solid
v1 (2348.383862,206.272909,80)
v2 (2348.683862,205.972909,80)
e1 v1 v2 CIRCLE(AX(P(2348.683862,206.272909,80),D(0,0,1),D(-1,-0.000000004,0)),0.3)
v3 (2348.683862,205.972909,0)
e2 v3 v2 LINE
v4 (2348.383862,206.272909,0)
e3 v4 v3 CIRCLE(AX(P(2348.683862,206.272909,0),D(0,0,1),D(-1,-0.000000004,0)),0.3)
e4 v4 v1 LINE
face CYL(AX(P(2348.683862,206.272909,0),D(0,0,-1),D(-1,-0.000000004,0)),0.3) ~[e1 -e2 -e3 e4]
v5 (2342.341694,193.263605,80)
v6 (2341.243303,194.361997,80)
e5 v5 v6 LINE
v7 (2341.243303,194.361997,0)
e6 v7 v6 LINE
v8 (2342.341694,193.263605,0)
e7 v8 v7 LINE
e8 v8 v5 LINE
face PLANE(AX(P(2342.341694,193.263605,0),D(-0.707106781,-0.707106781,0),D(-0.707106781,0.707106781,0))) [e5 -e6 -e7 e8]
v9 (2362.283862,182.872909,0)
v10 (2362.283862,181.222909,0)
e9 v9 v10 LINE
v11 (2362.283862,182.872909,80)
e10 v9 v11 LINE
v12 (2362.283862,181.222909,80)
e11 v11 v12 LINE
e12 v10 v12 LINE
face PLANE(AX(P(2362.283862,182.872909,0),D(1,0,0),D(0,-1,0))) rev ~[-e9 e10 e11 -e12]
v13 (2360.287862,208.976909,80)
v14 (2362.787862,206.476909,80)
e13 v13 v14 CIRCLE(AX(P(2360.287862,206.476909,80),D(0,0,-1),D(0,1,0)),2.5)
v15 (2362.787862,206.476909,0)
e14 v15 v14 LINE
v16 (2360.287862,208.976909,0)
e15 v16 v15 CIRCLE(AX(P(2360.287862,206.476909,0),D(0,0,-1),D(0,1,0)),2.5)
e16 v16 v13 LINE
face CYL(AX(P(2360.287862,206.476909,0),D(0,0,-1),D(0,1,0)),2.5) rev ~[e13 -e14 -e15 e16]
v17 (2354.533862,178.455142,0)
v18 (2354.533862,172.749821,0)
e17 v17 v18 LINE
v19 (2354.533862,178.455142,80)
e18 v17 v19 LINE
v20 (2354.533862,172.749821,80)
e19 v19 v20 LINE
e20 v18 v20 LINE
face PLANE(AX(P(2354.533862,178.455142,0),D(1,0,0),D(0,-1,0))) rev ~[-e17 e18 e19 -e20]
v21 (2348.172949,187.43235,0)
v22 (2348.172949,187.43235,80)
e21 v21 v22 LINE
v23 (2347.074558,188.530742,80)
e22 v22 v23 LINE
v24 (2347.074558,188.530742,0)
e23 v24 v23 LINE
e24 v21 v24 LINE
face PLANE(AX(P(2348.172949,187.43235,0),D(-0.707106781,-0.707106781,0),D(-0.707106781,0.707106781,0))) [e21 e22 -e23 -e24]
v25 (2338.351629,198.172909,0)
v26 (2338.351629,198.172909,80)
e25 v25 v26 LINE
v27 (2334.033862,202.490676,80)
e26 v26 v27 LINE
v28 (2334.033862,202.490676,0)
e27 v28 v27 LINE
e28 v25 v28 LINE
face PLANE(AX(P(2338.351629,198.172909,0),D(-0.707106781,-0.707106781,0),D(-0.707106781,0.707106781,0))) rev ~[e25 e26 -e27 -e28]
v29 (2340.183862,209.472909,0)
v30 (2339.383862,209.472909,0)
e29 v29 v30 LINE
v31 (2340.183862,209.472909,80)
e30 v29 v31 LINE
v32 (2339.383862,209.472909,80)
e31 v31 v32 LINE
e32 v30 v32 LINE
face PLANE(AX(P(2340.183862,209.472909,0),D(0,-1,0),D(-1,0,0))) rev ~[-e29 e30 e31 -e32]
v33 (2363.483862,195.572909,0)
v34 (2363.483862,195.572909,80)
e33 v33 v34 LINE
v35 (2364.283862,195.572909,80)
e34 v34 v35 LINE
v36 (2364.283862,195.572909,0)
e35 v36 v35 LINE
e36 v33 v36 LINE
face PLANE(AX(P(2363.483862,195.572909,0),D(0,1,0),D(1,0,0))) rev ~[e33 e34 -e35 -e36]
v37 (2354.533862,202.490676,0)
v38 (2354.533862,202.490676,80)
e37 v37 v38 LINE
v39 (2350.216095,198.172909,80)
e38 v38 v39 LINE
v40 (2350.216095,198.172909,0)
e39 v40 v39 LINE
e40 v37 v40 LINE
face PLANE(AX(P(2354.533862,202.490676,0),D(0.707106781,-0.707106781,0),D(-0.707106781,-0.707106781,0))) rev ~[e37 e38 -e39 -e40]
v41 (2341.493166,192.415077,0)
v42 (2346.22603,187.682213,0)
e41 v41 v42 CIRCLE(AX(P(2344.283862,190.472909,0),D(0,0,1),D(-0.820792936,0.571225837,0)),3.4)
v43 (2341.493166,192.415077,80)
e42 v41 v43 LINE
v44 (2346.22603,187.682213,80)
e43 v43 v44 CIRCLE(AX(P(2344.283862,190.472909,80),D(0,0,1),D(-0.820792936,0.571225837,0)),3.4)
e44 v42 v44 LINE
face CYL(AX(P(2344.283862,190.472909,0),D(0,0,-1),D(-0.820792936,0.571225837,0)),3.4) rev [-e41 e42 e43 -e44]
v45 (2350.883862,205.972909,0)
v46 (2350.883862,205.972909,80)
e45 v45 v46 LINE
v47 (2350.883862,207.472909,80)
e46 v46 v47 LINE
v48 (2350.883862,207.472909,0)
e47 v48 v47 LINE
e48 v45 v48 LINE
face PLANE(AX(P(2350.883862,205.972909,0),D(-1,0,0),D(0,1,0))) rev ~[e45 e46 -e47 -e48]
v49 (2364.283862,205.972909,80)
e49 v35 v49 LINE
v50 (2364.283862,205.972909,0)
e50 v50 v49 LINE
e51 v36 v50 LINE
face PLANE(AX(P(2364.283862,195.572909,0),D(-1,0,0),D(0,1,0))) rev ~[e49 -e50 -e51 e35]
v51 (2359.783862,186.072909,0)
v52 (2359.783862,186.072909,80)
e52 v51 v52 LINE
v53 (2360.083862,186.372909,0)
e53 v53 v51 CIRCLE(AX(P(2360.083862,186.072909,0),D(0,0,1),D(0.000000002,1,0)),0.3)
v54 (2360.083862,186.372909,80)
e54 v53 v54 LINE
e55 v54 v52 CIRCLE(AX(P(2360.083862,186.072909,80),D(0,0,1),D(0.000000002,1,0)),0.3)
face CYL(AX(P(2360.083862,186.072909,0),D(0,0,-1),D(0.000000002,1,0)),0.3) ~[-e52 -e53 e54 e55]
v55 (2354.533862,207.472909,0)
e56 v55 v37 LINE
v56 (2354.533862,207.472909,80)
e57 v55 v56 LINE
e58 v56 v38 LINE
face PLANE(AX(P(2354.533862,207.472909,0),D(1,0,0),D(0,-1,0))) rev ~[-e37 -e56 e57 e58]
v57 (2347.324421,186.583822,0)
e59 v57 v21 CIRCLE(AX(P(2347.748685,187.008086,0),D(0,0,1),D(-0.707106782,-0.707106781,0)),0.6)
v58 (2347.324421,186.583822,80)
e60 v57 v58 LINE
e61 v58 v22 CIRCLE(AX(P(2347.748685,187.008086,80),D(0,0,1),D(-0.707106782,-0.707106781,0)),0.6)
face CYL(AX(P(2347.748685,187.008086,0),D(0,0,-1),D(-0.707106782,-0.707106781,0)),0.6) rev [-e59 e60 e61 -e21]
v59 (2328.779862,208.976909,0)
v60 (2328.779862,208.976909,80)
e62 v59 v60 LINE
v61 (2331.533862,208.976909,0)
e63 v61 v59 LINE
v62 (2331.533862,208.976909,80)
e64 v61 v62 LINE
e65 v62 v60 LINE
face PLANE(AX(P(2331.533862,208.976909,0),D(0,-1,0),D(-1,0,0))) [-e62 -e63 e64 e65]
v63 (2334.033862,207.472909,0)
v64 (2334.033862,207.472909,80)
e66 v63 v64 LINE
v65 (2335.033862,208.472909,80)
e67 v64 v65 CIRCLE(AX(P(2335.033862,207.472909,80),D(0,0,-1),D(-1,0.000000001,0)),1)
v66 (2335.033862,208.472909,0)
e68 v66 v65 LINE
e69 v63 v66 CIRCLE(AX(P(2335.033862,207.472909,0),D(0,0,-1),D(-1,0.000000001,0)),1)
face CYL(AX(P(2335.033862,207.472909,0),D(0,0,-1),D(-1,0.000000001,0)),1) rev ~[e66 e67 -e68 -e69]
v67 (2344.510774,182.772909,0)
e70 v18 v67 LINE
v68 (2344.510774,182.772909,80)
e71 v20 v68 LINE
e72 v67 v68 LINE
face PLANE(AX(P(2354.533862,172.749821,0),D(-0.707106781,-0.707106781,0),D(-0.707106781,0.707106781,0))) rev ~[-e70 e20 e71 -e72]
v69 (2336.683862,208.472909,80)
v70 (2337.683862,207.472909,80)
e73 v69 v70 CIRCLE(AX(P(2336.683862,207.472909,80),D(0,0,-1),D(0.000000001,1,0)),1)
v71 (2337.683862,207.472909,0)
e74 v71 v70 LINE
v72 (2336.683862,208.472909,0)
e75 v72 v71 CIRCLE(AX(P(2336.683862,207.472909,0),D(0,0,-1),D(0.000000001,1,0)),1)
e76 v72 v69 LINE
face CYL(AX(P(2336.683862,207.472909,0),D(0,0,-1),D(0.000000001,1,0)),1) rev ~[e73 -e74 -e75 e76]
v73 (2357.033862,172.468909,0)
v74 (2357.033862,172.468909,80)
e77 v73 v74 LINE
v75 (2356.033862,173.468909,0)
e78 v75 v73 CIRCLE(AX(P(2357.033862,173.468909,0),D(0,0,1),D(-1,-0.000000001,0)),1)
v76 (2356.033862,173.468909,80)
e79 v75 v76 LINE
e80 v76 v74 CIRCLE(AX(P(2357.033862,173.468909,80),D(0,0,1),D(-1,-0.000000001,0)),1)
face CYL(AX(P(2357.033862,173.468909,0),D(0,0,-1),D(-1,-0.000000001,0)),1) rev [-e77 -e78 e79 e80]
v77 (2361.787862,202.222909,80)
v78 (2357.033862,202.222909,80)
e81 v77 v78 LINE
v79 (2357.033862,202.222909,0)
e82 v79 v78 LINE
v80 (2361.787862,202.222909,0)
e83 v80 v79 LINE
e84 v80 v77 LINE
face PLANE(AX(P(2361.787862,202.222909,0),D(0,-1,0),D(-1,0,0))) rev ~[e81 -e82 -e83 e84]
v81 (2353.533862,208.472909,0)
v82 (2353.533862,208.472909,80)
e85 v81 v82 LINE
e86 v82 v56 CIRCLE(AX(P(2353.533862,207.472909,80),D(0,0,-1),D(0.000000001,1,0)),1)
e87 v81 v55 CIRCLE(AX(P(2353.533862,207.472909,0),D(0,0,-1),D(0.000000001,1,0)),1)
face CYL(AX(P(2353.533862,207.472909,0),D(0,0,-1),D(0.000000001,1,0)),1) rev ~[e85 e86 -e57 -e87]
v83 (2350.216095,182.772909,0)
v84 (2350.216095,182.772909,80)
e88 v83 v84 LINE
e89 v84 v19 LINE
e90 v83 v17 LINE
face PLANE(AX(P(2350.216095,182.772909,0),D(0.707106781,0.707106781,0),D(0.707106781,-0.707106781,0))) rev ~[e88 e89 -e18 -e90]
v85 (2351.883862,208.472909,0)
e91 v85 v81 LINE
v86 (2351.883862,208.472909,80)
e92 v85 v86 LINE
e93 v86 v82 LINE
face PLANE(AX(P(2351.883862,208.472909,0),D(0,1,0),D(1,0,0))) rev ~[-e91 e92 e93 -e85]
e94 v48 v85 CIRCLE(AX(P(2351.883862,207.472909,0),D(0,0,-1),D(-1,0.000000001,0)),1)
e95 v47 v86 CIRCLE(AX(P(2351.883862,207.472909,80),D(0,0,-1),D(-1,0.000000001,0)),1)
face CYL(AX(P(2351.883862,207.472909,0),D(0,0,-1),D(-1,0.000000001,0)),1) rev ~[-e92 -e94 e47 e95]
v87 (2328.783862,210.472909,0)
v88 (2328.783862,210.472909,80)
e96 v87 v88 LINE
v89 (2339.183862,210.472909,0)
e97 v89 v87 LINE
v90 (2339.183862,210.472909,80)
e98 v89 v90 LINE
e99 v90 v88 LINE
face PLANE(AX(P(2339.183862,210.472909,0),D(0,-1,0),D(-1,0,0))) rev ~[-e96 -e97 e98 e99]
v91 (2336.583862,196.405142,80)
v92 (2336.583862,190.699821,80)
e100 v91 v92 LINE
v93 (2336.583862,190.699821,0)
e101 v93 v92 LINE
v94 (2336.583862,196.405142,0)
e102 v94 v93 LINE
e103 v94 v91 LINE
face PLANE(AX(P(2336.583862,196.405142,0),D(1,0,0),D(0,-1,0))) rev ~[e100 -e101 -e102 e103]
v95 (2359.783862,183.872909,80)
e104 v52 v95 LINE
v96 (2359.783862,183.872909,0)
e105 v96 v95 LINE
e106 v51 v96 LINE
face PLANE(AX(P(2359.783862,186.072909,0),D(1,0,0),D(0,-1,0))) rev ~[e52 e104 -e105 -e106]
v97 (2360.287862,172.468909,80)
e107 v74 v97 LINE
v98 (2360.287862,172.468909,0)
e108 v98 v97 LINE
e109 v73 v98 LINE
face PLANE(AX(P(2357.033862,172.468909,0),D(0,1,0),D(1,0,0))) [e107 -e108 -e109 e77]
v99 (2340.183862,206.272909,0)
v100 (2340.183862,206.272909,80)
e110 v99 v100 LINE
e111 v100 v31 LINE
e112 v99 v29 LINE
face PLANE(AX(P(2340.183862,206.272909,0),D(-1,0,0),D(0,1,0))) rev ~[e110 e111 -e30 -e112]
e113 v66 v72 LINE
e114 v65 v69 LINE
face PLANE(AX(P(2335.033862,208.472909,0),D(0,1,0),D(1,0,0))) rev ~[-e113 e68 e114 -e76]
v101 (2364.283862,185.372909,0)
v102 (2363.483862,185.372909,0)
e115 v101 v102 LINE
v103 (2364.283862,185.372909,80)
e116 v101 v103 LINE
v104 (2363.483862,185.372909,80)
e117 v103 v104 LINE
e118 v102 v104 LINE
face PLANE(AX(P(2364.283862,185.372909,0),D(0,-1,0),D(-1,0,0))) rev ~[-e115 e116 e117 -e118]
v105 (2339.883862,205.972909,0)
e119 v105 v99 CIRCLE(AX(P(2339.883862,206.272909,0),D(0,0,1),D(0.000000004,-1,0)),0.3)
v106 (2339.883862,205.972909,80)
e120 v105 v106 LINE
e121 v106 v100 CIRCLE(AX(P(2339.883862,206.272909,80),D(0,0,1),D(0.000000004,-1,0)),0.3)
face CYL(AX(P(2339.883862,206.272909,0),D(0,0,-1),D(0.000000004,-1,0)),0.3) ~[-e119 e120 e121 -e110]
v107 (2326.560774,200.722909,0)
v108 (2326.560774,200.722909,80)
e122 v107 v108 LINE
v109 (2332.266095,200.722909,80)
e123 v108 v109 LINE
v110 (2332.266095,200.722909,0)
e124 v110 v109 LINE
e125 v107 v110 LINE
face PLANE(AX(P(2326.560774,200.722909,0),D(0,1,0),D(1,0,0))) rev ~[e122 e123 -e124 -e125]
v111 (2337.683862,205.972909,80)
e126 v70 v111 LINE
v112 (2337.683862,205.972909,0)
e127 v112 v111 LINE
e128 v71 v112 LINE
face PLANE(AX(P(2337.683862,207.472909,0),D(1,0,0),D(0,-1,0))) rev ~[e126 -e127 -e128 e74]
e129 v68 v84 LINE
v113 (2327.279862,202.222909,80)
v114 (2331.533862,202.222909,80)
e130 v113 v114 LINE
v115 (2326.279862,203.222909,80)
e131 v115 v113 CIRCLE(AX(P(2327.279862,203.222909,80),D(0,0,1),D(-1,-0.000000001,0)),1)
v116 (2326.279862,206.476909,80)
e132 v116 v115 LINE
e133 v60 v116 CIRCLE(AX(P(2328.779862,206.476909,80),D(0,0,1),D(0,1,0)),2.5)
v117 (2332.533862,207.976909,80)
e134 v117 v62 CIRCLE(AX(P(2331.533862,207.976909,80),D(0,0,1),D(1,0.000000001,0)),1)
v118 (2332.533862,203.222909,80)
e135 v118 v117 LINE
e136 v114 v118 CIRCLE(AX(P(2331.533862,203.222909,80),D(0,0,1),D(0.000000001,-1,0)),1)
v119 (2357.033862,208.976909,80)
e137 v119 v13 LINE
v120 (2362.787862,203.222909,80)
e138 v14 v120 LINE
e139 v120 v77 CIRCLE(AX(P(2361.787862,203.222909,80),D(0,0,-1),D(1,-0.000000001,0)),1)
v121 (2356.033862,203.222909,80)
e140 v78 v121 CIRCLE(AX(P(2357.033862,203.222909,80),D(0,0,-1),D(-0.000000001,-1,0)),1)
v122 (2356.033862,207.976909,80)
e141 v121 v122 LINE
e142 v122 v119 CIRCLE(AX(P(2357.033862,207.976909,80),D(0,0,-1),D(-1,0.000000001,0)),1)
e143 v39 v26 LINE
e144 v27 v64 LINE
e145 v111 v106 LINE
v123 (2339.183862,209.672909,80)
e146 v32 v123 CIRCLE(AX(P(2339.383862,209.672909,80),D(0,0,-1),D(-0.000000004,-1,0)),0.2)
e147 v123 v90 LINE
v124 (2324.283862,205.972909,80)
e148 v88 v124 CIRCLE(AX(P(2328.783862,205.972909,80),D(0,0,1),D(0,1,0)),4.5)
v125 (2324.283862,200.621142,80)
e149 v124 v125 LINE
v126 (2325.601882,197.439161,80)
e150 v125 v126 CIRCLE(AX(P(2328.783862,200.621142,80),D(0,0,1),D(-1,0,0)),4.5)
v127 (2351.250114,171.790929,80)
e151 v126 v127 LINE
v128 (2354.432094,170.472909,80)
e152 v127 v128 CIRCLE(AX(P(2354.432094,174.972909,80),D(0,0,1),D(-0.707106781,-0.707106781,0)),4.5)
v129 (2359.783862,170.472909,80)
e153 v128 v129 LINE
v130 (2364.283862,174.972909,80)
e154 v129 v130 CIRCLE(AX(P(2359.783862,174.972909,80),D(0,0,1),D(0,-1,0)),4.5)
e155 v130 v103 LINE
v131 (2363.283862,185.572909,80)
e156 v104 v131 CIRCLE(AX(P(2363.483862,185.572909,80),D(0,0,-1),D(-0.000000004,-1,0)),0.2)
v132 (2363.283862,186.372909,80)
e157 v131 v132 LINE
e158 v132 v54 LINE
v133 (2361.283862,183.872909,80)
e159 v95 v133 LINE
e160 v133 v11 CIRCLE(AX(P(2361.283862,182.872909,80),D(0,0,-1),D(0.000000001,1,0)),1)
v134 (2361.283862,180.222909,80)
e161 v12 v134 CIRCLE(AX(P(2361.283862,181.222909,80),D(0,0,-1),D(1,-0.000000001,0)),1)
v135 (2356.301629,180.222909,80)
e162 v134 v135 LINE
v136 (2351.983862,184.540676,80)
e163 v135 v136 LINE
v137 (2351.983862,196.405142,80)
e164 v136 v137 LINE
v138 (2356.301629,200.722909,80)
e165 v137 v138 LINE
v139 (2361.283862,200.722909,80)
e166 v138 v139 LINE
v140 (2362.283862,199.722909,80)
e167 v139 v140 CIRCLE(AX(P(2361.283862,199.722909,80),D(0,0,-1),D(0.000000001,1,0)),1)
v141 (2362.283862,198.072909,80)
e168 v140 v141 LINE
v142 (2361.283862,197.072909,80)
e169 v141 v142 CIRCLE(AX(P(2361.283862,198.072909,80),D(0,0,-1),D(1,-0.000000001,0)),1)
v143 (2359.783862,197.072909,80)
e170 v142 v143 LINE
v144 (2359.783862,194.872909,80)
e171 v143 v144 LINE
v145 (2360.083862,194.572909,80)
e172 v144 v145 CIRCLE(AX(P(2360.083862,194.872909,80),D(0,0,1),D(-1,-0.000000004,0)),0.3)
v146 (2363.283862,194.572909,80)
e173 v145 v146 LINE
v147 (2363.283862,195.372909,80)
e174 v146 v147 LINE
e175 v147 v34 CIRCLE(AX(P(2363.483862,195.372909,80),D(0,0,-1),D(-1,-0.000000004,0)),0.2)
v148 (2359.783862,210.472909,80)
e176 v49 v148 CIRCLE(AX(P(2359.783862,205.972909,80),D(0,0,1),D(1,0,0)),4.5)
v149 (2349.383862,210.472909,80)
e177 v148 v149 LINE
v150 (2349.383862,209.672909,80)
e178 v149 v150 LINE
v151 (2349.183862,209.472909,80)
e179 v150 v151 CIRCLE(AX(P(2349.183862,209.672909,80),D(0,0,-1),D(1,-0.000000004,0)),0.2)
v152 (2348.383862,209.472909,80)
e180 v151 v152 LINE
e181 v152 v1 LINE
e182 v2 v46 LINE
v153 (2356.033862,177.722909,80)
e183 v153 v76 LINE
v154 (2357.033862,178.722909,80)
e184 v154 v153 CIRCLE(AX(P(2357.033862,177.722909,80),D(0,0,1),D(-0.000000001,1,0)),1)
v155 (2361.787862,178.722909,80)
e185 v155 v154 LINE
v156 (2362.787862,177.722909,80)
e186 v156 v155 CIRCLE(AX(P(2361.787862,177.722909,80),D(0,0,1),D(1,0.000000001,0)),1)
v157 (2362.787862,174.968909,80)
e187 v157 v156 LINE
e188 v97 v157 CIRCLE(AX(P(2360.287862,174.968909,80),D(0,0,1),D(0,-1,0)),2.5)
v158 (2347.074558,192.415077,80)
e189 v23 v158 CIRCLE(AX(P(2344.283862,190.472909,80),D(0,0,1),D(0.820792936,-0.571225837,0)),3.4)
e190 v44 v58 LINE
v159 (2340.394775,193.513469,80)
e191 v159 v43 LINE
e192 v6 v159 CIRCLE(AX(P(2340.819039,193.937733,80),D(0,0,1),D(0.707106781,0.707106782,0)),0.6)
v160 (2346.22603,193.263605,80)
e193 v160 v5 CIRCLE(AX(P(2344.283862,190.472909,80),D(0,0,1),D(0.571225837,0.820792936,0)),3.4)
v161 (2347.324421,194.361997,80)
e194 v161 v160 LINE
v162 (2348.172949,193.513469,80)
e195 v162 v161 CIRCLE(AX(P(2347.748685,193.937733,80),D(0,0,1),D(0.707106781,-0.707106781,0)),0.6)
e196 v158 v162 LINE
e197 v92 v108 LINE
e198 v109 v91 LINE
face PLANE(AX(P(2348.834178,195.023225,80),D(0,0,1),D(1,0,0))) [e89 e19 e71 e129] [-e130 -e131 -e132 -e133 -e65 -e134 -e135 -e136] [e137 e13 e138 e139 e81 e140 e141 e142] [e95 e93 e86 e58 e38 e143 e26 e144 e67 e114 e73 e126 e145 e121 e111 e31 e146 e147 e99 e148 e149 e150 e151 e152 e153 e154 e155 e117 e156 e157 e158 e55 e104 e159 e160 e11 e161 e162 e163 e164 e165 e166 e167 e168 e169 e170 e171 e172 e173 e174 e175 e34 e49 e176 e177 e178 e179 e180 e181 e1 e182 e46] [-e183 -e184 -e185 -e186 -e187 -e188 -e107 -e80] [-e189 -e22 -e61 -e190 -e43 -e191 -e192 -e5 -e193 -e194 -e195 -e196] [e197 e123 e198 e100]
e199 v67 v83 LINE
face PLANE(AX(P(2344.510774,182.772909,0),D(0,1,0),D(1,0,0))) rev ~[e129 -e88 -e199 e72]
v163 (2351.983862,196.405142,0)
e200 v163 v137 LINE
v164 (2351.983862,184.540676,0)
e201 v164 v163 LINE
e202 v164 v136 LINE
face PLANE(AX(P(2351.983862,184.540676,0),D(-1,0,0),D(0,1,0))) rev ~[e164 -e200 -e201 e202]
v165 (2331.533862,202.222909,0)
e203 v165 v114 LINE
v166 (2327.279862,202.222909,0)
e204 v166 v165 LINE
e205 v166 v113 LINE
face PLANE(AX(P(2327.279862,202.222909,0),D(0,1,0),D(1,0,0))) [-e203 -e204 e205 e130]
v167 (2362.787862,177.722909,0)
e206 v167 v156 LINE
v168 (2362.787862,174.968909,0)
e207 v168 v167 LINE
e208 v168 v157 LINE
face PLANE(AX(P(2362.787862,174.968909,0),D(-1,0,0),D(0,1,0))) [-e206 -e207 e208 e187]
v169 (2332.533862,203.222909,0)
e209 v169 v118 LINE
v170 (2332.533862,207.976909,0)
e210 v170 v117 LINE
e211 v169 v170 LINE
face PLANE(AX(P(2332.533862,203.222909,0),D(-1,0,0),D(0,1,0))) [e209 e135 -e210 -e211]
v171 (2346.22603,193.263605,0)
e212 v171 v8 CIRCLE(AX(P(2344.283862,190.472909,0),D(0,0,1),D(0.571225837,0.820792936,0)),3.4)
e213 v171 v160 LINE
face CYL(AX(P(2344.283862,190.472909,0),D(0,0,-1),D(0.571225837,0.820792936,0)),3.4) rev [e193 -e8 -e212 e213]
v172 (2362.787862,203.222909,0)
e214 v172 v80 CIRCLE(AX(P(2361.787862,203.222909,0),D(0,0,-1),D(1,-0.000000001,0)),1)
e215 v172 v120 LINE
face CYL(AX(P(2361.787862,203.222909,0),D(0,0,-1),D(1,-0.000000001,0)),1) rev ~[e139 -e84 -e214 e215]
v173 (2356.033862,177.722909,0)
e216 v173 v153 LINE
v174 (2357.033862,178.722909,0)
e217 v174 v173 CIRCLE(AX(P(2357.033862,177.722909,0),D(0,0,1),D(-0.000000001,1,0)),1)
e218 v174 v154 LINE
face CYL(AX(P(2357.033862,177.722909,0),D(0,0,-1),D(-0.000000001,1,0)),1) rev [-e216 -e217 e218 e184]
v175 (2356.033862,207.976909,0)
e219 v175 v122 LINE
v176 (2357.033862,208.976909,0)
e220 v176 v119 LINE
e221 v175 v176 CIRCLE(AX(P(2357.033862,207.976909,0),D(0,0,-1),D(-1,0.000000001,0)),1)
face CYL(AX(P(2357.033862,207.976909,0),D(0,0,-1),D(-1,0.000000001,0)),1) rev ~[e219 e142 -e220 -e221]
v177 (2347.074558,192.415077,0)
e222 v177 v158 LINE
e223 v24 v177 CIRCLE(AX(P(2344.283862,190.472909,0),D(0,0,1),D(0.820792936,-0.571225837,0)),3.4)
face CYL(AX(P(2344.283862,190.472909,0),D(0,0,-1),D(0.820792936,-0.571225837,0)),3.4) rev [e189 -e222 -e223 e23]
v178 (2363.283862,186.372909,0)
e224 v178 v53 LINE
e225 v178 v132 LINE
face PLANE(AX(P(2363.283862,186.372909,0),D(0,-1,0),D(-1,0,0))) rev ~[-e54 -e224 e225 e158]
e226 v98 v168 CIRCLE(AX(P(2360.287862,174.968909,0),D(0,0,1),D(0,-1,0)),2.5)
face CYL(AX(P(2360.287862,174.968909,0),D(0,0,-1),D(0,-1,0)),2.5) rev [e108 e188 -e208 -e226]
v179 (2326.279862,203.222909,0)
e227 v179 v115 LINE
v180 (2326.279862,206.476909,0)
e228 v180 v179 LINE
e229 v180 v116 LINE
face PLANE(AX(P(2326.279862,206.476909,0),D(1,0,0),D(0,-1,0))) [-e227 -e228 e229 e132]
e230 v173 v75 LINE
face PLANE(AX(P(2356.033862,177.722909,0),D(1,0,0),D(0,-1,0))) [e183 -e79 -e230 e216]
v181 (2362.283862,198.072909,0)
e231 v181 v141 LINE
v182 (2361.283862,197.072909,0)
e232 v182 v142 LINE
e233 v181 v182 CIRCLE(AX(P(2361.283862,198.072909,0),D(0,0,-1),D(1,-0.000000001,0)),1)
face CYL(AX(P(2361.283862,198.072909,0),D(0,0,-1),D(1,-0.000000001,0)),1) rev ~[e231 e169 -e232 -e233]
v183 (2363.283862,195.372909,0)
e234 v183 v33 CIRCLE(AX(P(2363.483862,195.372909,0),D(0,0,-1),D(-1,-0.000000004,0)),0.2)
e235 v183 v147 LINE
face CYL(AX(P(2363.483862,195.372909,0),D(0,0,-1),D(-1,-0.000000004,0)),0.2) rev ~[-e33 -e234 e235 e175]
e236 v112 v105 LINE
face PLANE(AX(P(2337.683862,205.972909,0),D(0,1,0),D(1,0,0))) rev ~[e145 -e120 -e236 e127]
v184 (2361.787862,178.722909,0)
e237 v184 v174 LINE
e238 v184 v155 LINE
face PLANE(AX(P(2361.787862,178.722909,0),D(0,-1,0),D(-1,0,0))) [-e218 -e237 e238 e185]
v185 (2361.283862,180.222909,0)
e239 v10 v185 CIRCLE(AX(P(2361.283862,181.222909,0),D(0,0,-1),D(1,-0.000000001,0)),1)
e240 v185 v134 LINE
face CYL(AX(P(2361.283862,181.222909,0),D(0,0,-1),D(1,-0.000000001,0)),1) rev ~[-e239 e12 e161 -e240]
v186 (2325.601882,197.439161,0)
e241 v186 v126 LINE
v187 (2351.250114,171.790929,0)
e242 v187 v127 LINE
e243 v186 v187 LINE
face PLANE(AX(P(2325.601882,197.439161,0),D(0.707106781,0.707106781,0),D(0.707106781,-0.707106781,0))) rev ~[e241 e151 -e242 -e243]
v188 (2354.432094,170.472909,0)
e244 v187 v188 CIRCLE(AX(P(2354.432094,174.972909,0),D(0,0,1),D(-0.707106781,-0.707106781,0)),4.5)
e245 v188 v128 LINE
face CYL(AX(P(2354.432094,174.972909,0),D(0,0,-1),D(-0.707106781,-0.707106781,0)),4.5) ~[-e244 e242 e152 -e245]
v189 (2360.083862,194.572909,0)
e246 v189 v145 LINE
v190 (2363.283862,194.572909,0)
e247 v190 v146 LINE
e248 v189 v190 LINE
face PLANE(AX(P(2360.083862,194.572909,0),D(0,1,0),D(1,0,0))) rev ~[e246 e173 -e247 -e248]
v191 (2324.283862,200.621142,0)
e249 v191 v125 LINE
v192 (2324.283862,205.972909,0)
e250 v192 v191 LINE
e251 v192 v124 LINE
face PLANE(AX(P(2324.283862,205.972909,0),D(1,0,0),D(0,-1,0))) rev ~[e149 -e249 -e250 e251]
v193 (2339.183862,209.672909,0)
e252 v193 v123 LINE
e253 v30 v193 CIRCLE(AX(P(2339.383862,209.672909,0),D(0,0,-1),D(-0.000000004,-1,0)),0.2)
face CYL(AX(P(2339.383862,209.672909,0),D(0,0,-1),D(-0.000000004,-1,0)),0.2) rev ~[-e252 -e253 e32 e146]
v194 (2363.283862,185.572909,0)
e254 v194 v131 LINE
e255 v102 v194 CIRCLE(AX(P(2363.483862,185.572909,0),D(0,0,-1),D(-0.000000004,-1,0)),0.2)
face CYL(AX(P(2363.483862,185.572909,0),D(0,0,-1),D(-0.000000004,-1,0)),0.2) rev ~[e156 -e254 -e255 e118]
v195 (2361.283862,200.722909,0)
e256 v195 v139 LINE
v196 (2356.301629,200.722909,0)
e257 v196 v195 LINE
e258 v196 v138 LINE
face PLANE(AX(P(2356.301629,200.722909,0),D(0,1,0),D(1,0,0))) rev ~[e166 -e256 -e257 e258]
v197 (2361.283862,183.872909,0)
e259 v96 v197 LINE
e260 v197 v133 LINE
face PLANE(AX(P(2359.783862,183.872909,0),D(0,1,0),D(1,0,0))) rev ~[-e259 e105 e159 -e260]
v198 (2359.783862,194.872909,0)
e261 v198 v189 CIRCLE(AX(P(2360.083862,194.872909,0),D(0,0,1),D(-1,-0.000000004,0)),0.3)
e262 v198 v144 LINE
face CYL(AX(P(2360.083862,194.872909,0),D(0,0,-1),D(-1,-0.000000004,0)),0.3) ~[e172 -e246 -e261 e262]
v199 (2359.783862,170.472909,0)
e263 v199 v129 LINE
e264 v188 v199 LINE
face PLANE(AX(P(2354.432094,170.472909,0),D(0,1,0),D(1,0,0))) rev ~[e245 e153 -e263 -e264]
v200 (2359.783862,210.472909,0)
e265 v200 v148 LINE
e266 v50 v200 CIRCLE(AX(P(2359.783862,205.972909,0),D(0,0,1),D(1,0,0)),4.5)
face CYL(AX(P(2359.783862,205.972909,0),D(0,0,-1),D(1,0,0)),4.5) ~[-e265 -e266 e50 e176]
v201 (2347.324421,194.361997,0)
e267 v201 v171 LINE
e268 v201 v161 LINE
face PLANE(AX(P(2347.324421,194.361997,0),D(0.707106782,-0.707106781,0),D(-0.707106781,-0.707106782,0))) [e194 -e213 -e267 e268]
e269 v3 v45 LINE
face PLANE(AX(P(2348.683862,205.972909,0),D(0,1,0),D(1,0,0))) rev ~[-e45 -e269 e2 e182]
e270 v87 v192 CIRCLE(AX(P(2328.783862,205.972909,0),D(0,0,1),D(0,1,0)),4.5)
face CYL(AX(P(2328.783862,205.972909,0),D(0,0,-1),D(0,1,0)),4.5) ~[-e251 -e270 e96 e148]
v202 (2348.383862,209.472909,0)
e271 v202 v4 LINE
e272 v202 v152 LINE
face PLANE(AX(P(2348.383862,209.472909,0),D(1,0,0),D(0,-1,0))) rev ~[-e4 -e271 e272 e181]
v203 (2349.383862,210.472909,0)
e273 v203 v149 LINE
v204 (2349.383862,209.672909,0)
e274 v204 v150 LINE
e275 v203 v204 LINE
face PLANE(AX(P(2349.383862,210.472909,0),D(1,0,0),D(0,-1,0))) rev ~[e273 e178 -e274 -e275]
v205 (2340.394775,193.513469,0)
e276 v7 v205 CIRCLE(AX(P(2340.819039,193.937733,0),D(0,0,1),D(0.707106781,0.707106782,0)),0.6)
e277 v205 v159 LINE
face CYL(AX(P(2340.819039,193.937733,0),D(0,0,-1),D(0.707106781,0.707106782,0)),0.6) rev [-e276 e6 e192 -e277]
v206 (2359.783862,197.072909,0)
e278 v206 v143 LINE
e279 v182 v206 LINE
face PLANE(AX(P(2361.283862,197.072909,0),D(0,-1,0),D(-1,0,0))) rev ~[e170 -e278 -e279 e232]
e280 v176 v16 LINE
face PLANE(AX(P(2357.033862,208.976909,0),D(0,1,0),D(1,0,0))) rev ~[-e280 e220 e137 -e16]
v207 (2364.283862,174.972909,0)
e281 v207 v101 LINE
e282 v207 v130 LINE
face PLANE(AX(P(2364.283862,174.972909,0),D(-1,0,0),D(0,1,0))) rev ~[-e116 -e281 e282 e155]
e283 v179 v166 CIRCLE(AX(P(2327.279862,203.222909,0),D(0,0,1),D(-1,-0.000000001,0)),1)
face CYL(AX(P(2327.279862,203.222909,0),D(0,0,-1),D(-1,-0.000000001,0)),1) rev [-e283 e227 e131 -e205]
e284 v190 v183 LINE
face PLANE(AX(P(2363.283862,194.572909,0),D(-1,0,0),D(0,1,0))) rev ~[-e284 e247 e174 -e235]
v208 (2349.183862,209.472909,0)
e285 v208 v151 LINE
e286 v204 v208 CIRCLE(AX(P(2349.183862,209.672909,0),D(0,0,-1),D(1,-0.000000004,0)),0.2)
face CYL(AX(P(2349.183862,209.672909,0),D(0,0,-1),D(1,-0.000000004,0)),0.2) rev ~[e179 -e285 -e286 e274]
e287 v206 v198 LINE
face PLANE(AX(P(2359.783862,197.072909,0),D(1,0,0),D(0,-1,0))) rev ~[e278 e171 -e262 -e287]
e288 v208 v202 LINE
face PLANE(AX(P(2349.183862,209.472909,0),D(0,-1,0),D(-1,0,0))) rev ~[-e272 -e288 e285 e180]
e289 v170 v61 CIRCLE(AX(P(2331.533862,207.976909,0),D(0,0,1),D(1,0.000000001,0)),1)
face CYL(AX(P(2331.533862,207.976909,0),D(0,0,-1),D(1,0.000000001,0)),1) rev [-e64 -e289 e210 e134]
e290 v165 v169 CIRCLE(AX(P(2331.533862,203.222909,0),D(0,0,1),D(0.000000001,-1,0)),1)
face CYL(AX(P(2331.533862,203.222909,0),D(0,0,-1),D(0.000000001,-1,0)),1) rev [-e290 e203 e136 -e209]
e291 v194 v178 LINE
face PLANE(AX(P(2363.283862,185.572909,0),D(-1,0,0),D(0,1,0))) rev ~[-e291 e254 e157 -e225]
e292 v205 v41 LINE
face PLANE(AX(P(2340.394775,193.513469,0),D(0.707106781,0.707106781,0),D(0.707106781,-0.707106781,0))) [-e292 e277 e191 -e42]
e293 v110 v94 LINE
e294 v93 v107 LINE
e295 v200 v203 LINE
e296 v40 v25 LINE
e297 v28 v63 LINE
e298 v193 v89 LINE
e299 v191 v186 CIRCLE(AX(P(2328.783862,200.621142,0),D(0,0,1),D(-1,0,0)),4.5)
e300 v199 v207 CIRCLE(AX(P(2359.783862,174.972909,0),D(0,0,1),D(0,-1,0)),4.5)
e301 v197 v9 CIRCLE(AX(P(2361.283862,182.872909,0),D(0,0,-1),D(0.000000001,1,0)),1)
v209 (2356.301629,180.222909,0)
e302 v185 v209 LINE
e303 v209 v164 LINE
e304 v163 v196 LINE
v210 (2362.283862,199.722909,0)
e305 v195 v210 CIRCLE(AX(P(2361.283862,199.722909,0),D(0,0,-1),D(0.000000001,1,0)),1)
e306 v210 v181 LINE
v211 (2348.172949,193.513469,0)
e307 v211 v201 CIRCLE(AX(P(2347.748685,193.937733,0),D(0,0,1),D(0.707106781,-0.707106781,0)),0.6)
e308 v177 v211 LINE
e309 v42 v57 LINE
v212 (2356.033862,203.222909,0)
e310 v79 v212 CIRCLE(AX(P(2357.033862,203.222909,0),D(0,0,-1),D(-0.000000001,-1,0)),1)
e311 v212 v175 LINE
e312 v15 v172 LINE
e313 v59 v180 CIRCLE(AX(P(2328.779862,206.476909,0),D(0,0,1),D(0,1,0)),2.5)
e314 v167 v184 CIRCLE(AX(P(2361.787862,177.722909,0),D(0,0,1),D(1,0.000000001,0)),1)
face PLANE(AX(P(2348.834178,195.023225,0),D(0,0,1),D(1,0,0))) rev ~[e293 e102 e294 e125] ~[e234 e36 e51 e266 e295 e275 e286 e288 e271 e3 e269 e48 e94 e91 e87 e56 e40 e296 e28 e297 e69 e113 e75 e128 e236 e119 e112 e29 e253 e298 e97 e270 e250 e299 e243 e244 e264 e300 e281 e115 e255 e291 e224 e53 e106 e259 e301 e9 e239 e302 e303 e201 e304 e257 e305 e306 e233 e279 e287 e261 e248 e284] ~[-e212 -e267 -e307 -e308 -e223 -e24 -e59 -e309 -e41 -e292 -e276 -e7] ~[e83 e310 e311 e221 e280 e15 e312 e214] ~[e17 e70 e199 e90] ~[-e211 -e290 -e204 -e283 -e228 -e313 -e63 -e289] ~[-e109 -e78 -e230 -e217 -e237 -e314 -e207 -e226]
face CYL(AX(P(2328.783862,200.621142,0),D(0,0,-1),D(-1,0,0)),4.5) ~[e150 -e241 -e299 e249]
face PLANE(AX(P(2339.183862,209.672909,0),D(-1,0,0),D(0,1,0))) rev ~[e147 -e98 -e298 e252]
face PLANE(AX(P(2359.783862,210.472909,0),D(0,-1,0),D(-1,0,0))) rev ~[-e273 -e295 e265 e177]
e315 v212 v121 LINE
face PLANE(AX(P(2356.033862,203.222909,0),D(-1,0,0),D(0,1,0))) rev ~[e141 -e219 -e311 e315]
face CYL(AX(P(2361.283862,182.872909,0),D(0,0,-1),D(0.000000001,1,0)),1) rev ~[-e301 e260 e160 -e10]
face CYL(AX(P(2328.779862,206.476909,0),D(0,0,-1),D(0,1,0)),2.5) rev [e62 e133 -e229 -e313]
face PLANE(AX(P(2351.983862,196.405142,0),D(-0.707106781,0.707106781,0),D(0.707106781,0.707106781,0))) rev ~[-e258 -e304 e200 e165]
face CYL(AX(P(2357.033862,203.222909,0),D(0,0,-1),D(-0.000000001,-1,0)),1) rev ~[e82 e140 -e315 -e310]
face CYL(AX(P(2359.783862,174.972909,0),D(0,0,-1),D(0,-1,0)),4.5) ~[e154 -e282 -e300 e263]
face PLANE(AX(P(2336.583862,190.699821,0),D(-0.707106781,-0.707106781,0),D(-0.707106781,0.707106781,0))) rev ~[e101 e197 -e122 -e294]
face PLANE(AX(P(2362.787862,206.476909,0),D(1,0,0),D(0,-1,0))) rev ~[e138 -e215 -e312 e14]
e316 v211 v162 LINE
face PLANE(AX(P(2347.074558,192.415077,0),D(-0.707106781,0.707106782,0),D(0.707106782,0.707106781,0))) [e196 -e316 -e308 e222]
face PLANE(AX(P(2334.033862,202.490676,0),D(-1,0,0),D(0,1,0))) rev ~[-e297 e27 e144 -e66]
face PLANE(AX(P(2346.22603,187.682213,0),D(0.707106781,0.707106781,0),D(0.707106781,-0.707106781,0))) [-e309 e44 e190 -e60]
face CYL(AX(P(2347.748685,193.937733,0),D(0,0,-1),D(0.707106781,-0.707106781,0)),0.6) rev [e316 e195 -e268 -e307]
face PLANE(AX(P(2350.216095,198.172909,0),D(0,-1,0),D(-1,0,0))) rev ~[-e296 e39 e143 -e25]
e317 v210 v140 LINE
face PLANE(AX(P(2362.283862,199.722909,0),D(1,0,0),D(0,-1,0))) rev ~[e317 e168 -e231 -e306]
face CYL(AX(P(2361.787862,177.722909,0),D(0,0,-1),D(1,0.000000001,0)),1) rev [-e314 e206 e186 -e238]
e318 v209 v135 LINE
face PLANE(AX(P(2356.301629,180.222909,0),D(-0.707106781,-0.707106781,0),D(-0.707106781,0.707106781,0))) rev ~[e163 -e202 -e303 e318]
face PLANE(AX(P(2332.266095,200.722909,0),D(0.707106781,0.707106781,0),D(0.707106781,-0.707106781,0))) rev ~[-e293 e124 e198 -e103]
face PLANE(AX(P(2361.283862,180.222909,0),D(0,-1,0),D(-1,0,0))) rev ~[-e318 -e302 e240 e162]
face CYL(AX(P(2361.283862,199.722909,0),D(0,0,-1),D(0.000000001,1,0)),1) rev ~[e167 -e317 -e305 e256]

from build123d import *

# Parameters (mm, degrees)
EXTRUDE_1_DEPTH = 80


with BuildPart() as part:
    # 草图1 → 凸台-拉伸1 (new body)
    with BuildSketch(Plane.XY):
        with BuildLine():
            Line((2339.183862097, 210.472909404), (2328.783862097, 210.472909404))
            ThreePointArc((2328.783862097, 210.472909404), (2325.601881582, 209.15488992), (2324.283862097, 205.972909404))
            Line((2324.283862097, 205.972909404), (2324.283862097, 200.621141682))
            ThreePointArc((2324.283862097, 200.621141682), (2324.626404201, 198.899066237), (2325.601881582, 197.439161167))
            Line((2325.601881582, 197.439161167), (2351.25011386, 171.790928889))
            ThreePointArc((2351.25011386, 171.790928889), (2352.71001893, 170.815451508), (2354.432094375, 170.472909404))
            Line((2354.432094375, 170.472909404), (2359.783862097, 170.472909404))
            ThreePointArc((2359.783862097, 170.472909404), (2362.965842612, 171.790928889), (2364.283862097, 174.972909404))
            Line((2364.283862097, 174.972909404), (2364.283862097, 185.372909404))
            Line((2364.283862097, 185.372909404), (2363.483862097, 185.372909404))
            ThreePointArc((2363.483862097, 185.372909404), (2363.342440741, 185.431488048), (2363.283862097, 185.572909404))
            Line((2363.283862097, 185.572909404), (2363.283862097, 186.372909404))
            Line((2363.283862097, 186.372909404), (2360.083862097, 186.372909404))
            ThreePointArc((2360.083862097, 186.372909404), (2359.871730063, 186.285041439), (2359.783862097, 186.072909404))
            Line((2359.783862097, 186.072909404), (2359.783862097, 183.872909404))
            Line((2359.783862097, 183.872909404), (2361.283862097, 183.872909404))
            ThreePointArc((2361.283862097, 183.872909404), (2361.990968878, 183.580016185), (2362.283862097, 182.872909404))
            Line((2362.283862097, 182.872909404), (2362.283862097, 181.222909404))
            ThreePointArc((2362.283862097, 181.222909404), (2361.990968878, 180.515802623), (2361.283862097, 180.222909404))
            Line((2361.283862097, 180.222909404), (2356.30162905, 180.222909404))
            Line((2356.30162905, 180.222909404), (2351.983862097, 184.540676357))
            Line((2351.983862097, 184.540676357), (2351.983862097, 196.405142451))
            Line((2351.983862097, 196.405142451), (2356.30162905, 200.722909404))
            Line((2356.30162905, 200.722909404), (2361.283862097, 200.722909404))
            ThreePointArc((2361.283862097, 200.722909404), (2361.990968878, 200.430016185), (2362.283862097, 199.722909404))
            Line((2362.283862097, 199.722909404), (2362.283862097, 198.072909404))
            ThreePointArc((2362.283862097, 198.072909404), (2361.990968878, 197.365802623), (2361.283862097, 197.072909404))
            Line((2361.283862097, 197.072909404), (2359.783862097, 197.072909404))
            Line((2359.783862097, 197.072909404), (2359.783862097, 194.872909404))
            ThreePointArc((2359.783862097, 194.872909404), (2359.871730063, 194.66077737), (2360.083862097, 194.572909404))
            Line((2360.083862097, 194.572909404), (2363.283862097, 194.572909404))
            Line((2363.283862097, 194.572909404), (2363.283862097, 195.372909404))
            ThreePointArc((2363.283862097, 195.372909404), (2363.342440741, 195.514330761), (2363.483862097, 195.572909404))
            Line((2363.483862097, 195.572909404), (2364.283862097, 195.572909404))
            Line((2364.283862097, 195.572909404), (2364.283862097, 205.972909404))
            ThreePointArc((2364.283862097, 205.972909404), (2362.965842612, 209.15488992), (2359.783862097, 210.472909404))
            Line((2359.783862097, 210.472909404), (2349.383862097, 210.472909404))
            Line((2349.383862097, 210.472909404), (2349.383862097, 209.672909404))
            ThreePointArc((2349.383862097, 209.672909404), (2349.325283453, 209.531488048), (2349.183862097, 209.472909404))
            Line((2349.183862097, 209.472909404), (2348.383862097, 209.472909404))
            Line((2348.383862097, 209.472909404), (2348.383862097, 206.272909404))
            ThreePointArc((2348.383862097, 206.272909404), (2348.471730063, 206.06077737), (2348.683862097, 205.972909404))
            Line((2348.683862097, 205.972909404), (2350.883862097, 205.972909404))
            Line((2350.883862097, 205.972909404), (2350.883862097, 207.472909404))
            ThreePointArc((2350.883862097, 207.472909404), (2351.176755316, 208.180016185), (2351.883862097, 208.472909404))
            Line((2351.883862097, 208.472909404), (2353.533862097, 208.472909404))
            ThreePointArc((2353.533862097, 208.472909404), (2354.240968878, 208.180016185), (2354.533862097, 207.472909404))
            Line((2354.533862097, 207.472909404), (2354.533862097, 202.490676357))
            Line((2354.533862097, 202.490676357), (2350.216095144, 198.172909404))
            Line((2350.216095144, 198.172909404), (2338.35162905, 198.172909404))
            Line((2338.35162905, 198.172909404), (2334.033862097, 202.490676357))
            Line((2334.033862097, 202.490676357), (2334.033862097, 207.472909404))
            ThreePointArc((2334.033862097, 207.472909404), (2334.326755316, 208.180016185), (2335.033862097, 208.472909404))
            Line((2335.033862097, 208.472909404), (2336.683862097, 208.472909404))
            ThreePointArc((2336.683862097, 208.472909404), (2337.390968878, 208.180016185), (2337.683862097, 207.472909404))
            Line((2337.683862097, 207.472909404), (2337.683862097, 205.972909404))
            Line((2337.683862097, 205.972909404), (2339.883862097, 205.972909404))
            ThreePointArc((2339.883862097, 205.972909404), (2340.095994131, 206.06077737), (2340.183862097, 206.272909404))
            Line((2340.183862097, 206.272909404), (2340.183862097, 209.472909404))
            Line((2340.183862097, 209.472909404), (2339.383862097, 209.472909404))
            ThreePointArc((2339.383862097, 209.472909404), (2339.242440741, 209.531488048), (2339.183862097, 209.672909404))
            Line((2339.183862097, 209.672909404), (2339.183862097, 210.472909404))
        make_face()
        with BuildLine():
            Line((2326.279862097, 206.476909404), (2326.279862097, 203.222909404))
            ThreePointArc((2326.279862097, 203.222909404), (2326.572755316, 202.515802623), (2327.279862097, 202.222909404))
            Line((2327.279862097, 202.222909404), (2331.533862097, 202.222909404))
            ThreePointArc((2331.533862097, 202.222909404), (2332.240968878, 202.515802623), (2332.533862097, 203.222909404))
            Line((2332.533862097, 203.222909404), (2332.533862097, 207.976909404))
            ThreePointArc((2332.533862097, 207.976909404), (2332.240968878, 208.684016185), (2331.533862097, 208.976909404))
            Line((2331.533862097, 208.976909404), (2328.779862097, 208.976909404))
            ThreePointArc((2328.779862097, 208.976909404), (2327.012095144, 208.244676357), (2326.279862097, 206.476909404))
        make_face(mode=Mode.SUBTRACT)
        Polygon((2344.510774032, 182.772909404), (2350.216095144, 182.772909404), (2354.533862097, 178.455142451), (2354.533862097, 172.749821339), align=None, mode=Mode.SUBTRACT)
        Polygon((2336.583862097, 196.405142451), (2336.583862097, 190.699821339), (2326.560774032, 200.722909404), (2332.266095144, 200.722909404), align=None, mode=Mode.SUBTRACT)
        with BuildLine():
            Line((2362.787862097, 206.476909404), (2362.787862097, 203.222909404))
            ThreePointArc((2362.787862097, 203.222909404), (2362.494968878, 202.515802623), (2361.787862097, 202.222909404))
            Line((2361.787862097, 202.222909404), (2357.033862097, 202.222909404))
            ThreePointArc((2357.033862097, 202.222909404), (2356.326755316, 202.515802623), (2356.033862097, 203.222909404))
            Line((2356.033862097, 203.222909404), (2356.033862097, 207.976909404))
            ThreePointArc((2356.033862097, 207.976909404), (2356.326755316, 208.684016185), (2357.033862097, 208.976909404))
            Line((2357.033862097, 208.976909404), (2360.287862097, 208.976909404))
            ThreePointArc((2360.287862097, 208.976909404), (2362.05562905, 208.244676357), (2362.787862097, 206.476909404))
        make_face(mode=Mode.SUBTRACT)
        with BuildLine():
            Line((2362.787862097, 174.968909404), (2362.787862097, 177.722909404))
            ThreePointArc((2362.787862097, 177.722909404), (2362.494968878, 178.430016185), (2361.787862097, 178.722909404))
            Line((2361.787862097, 178.722909404), (2357.033862097, 178.722909404))
            ThreePointArc((2357.033862097, 178.722909404), (2356.326755316, 178.430016185), (2356.033862097, 177.722909404))
            Line((2356.033862097, 177.722909404), (2356.033862097, 173.468909404))
            ThreePointArc((2356.033862097, 173.468909404), (2356.326755316, 172.761802623), (2357.033862097, 172.468909404))
            Line((2357.033862097, 172.468909404), (2360.287862097, 172.468909404))
            ThreePointArc((2360.287862097, 172.468909404), (2362.05562905, 173.201142451), (2362.787862097, 174.968909404))
        make_face(mode=Mode.SUBTRACT)
        with BuildLine():
            Line((2347.324421256, 194.361996701), (2346.226029942, 193.263605386))
            ThreePointArc((2346.226029942, 193.263605386), (2344.283862097, 193.872909404), (2342.341694253, 193.263605386))
            Line((2342.341694253, 193.263605386), (2341.243302938, 194.361996701))
            ThreePointArc((2341.243302938, 194.361996701), (2340.394774801, 194.361996701), (2340.394774801, 193.513468563))
            Line((2340.394774801, 193.513468563), (2341.493166115, 192.415077249))
            ThreePointArc((2341.493166115, 192.415077249), (2341.879699041, 188.068746348), (2346.226029942, 187.682213422))
            Line((2346.226029942, 187.682213422), (2347.324421256, 186.583822108))
            ThreePointArc((2347.324421256, 186.583822108), (2348.172949394, 186.583822108), (2348.172949394, 187.432350245))
            Line((2348.172949394, 187.432350245), (2347.074558079, 188.53074156))
            ThreePointArc((2347.074558079, 188.53074156), (2347.683862097, 190.472909404), (2347.074558079, 192.415077249))
            Line((2347.074558079, 192.415077249), (2348.172949394, 193.513468563))
            ThreePointArc((2348.172949394, 193.513468563), (2348.172949394, 194.361996701), (2347.324421256, 194.361996701))
        make_face(mode=Mode.SUBTRACT)
    extrude(amount=EXTRUDE_1_DEPTH)


solid = part.part
